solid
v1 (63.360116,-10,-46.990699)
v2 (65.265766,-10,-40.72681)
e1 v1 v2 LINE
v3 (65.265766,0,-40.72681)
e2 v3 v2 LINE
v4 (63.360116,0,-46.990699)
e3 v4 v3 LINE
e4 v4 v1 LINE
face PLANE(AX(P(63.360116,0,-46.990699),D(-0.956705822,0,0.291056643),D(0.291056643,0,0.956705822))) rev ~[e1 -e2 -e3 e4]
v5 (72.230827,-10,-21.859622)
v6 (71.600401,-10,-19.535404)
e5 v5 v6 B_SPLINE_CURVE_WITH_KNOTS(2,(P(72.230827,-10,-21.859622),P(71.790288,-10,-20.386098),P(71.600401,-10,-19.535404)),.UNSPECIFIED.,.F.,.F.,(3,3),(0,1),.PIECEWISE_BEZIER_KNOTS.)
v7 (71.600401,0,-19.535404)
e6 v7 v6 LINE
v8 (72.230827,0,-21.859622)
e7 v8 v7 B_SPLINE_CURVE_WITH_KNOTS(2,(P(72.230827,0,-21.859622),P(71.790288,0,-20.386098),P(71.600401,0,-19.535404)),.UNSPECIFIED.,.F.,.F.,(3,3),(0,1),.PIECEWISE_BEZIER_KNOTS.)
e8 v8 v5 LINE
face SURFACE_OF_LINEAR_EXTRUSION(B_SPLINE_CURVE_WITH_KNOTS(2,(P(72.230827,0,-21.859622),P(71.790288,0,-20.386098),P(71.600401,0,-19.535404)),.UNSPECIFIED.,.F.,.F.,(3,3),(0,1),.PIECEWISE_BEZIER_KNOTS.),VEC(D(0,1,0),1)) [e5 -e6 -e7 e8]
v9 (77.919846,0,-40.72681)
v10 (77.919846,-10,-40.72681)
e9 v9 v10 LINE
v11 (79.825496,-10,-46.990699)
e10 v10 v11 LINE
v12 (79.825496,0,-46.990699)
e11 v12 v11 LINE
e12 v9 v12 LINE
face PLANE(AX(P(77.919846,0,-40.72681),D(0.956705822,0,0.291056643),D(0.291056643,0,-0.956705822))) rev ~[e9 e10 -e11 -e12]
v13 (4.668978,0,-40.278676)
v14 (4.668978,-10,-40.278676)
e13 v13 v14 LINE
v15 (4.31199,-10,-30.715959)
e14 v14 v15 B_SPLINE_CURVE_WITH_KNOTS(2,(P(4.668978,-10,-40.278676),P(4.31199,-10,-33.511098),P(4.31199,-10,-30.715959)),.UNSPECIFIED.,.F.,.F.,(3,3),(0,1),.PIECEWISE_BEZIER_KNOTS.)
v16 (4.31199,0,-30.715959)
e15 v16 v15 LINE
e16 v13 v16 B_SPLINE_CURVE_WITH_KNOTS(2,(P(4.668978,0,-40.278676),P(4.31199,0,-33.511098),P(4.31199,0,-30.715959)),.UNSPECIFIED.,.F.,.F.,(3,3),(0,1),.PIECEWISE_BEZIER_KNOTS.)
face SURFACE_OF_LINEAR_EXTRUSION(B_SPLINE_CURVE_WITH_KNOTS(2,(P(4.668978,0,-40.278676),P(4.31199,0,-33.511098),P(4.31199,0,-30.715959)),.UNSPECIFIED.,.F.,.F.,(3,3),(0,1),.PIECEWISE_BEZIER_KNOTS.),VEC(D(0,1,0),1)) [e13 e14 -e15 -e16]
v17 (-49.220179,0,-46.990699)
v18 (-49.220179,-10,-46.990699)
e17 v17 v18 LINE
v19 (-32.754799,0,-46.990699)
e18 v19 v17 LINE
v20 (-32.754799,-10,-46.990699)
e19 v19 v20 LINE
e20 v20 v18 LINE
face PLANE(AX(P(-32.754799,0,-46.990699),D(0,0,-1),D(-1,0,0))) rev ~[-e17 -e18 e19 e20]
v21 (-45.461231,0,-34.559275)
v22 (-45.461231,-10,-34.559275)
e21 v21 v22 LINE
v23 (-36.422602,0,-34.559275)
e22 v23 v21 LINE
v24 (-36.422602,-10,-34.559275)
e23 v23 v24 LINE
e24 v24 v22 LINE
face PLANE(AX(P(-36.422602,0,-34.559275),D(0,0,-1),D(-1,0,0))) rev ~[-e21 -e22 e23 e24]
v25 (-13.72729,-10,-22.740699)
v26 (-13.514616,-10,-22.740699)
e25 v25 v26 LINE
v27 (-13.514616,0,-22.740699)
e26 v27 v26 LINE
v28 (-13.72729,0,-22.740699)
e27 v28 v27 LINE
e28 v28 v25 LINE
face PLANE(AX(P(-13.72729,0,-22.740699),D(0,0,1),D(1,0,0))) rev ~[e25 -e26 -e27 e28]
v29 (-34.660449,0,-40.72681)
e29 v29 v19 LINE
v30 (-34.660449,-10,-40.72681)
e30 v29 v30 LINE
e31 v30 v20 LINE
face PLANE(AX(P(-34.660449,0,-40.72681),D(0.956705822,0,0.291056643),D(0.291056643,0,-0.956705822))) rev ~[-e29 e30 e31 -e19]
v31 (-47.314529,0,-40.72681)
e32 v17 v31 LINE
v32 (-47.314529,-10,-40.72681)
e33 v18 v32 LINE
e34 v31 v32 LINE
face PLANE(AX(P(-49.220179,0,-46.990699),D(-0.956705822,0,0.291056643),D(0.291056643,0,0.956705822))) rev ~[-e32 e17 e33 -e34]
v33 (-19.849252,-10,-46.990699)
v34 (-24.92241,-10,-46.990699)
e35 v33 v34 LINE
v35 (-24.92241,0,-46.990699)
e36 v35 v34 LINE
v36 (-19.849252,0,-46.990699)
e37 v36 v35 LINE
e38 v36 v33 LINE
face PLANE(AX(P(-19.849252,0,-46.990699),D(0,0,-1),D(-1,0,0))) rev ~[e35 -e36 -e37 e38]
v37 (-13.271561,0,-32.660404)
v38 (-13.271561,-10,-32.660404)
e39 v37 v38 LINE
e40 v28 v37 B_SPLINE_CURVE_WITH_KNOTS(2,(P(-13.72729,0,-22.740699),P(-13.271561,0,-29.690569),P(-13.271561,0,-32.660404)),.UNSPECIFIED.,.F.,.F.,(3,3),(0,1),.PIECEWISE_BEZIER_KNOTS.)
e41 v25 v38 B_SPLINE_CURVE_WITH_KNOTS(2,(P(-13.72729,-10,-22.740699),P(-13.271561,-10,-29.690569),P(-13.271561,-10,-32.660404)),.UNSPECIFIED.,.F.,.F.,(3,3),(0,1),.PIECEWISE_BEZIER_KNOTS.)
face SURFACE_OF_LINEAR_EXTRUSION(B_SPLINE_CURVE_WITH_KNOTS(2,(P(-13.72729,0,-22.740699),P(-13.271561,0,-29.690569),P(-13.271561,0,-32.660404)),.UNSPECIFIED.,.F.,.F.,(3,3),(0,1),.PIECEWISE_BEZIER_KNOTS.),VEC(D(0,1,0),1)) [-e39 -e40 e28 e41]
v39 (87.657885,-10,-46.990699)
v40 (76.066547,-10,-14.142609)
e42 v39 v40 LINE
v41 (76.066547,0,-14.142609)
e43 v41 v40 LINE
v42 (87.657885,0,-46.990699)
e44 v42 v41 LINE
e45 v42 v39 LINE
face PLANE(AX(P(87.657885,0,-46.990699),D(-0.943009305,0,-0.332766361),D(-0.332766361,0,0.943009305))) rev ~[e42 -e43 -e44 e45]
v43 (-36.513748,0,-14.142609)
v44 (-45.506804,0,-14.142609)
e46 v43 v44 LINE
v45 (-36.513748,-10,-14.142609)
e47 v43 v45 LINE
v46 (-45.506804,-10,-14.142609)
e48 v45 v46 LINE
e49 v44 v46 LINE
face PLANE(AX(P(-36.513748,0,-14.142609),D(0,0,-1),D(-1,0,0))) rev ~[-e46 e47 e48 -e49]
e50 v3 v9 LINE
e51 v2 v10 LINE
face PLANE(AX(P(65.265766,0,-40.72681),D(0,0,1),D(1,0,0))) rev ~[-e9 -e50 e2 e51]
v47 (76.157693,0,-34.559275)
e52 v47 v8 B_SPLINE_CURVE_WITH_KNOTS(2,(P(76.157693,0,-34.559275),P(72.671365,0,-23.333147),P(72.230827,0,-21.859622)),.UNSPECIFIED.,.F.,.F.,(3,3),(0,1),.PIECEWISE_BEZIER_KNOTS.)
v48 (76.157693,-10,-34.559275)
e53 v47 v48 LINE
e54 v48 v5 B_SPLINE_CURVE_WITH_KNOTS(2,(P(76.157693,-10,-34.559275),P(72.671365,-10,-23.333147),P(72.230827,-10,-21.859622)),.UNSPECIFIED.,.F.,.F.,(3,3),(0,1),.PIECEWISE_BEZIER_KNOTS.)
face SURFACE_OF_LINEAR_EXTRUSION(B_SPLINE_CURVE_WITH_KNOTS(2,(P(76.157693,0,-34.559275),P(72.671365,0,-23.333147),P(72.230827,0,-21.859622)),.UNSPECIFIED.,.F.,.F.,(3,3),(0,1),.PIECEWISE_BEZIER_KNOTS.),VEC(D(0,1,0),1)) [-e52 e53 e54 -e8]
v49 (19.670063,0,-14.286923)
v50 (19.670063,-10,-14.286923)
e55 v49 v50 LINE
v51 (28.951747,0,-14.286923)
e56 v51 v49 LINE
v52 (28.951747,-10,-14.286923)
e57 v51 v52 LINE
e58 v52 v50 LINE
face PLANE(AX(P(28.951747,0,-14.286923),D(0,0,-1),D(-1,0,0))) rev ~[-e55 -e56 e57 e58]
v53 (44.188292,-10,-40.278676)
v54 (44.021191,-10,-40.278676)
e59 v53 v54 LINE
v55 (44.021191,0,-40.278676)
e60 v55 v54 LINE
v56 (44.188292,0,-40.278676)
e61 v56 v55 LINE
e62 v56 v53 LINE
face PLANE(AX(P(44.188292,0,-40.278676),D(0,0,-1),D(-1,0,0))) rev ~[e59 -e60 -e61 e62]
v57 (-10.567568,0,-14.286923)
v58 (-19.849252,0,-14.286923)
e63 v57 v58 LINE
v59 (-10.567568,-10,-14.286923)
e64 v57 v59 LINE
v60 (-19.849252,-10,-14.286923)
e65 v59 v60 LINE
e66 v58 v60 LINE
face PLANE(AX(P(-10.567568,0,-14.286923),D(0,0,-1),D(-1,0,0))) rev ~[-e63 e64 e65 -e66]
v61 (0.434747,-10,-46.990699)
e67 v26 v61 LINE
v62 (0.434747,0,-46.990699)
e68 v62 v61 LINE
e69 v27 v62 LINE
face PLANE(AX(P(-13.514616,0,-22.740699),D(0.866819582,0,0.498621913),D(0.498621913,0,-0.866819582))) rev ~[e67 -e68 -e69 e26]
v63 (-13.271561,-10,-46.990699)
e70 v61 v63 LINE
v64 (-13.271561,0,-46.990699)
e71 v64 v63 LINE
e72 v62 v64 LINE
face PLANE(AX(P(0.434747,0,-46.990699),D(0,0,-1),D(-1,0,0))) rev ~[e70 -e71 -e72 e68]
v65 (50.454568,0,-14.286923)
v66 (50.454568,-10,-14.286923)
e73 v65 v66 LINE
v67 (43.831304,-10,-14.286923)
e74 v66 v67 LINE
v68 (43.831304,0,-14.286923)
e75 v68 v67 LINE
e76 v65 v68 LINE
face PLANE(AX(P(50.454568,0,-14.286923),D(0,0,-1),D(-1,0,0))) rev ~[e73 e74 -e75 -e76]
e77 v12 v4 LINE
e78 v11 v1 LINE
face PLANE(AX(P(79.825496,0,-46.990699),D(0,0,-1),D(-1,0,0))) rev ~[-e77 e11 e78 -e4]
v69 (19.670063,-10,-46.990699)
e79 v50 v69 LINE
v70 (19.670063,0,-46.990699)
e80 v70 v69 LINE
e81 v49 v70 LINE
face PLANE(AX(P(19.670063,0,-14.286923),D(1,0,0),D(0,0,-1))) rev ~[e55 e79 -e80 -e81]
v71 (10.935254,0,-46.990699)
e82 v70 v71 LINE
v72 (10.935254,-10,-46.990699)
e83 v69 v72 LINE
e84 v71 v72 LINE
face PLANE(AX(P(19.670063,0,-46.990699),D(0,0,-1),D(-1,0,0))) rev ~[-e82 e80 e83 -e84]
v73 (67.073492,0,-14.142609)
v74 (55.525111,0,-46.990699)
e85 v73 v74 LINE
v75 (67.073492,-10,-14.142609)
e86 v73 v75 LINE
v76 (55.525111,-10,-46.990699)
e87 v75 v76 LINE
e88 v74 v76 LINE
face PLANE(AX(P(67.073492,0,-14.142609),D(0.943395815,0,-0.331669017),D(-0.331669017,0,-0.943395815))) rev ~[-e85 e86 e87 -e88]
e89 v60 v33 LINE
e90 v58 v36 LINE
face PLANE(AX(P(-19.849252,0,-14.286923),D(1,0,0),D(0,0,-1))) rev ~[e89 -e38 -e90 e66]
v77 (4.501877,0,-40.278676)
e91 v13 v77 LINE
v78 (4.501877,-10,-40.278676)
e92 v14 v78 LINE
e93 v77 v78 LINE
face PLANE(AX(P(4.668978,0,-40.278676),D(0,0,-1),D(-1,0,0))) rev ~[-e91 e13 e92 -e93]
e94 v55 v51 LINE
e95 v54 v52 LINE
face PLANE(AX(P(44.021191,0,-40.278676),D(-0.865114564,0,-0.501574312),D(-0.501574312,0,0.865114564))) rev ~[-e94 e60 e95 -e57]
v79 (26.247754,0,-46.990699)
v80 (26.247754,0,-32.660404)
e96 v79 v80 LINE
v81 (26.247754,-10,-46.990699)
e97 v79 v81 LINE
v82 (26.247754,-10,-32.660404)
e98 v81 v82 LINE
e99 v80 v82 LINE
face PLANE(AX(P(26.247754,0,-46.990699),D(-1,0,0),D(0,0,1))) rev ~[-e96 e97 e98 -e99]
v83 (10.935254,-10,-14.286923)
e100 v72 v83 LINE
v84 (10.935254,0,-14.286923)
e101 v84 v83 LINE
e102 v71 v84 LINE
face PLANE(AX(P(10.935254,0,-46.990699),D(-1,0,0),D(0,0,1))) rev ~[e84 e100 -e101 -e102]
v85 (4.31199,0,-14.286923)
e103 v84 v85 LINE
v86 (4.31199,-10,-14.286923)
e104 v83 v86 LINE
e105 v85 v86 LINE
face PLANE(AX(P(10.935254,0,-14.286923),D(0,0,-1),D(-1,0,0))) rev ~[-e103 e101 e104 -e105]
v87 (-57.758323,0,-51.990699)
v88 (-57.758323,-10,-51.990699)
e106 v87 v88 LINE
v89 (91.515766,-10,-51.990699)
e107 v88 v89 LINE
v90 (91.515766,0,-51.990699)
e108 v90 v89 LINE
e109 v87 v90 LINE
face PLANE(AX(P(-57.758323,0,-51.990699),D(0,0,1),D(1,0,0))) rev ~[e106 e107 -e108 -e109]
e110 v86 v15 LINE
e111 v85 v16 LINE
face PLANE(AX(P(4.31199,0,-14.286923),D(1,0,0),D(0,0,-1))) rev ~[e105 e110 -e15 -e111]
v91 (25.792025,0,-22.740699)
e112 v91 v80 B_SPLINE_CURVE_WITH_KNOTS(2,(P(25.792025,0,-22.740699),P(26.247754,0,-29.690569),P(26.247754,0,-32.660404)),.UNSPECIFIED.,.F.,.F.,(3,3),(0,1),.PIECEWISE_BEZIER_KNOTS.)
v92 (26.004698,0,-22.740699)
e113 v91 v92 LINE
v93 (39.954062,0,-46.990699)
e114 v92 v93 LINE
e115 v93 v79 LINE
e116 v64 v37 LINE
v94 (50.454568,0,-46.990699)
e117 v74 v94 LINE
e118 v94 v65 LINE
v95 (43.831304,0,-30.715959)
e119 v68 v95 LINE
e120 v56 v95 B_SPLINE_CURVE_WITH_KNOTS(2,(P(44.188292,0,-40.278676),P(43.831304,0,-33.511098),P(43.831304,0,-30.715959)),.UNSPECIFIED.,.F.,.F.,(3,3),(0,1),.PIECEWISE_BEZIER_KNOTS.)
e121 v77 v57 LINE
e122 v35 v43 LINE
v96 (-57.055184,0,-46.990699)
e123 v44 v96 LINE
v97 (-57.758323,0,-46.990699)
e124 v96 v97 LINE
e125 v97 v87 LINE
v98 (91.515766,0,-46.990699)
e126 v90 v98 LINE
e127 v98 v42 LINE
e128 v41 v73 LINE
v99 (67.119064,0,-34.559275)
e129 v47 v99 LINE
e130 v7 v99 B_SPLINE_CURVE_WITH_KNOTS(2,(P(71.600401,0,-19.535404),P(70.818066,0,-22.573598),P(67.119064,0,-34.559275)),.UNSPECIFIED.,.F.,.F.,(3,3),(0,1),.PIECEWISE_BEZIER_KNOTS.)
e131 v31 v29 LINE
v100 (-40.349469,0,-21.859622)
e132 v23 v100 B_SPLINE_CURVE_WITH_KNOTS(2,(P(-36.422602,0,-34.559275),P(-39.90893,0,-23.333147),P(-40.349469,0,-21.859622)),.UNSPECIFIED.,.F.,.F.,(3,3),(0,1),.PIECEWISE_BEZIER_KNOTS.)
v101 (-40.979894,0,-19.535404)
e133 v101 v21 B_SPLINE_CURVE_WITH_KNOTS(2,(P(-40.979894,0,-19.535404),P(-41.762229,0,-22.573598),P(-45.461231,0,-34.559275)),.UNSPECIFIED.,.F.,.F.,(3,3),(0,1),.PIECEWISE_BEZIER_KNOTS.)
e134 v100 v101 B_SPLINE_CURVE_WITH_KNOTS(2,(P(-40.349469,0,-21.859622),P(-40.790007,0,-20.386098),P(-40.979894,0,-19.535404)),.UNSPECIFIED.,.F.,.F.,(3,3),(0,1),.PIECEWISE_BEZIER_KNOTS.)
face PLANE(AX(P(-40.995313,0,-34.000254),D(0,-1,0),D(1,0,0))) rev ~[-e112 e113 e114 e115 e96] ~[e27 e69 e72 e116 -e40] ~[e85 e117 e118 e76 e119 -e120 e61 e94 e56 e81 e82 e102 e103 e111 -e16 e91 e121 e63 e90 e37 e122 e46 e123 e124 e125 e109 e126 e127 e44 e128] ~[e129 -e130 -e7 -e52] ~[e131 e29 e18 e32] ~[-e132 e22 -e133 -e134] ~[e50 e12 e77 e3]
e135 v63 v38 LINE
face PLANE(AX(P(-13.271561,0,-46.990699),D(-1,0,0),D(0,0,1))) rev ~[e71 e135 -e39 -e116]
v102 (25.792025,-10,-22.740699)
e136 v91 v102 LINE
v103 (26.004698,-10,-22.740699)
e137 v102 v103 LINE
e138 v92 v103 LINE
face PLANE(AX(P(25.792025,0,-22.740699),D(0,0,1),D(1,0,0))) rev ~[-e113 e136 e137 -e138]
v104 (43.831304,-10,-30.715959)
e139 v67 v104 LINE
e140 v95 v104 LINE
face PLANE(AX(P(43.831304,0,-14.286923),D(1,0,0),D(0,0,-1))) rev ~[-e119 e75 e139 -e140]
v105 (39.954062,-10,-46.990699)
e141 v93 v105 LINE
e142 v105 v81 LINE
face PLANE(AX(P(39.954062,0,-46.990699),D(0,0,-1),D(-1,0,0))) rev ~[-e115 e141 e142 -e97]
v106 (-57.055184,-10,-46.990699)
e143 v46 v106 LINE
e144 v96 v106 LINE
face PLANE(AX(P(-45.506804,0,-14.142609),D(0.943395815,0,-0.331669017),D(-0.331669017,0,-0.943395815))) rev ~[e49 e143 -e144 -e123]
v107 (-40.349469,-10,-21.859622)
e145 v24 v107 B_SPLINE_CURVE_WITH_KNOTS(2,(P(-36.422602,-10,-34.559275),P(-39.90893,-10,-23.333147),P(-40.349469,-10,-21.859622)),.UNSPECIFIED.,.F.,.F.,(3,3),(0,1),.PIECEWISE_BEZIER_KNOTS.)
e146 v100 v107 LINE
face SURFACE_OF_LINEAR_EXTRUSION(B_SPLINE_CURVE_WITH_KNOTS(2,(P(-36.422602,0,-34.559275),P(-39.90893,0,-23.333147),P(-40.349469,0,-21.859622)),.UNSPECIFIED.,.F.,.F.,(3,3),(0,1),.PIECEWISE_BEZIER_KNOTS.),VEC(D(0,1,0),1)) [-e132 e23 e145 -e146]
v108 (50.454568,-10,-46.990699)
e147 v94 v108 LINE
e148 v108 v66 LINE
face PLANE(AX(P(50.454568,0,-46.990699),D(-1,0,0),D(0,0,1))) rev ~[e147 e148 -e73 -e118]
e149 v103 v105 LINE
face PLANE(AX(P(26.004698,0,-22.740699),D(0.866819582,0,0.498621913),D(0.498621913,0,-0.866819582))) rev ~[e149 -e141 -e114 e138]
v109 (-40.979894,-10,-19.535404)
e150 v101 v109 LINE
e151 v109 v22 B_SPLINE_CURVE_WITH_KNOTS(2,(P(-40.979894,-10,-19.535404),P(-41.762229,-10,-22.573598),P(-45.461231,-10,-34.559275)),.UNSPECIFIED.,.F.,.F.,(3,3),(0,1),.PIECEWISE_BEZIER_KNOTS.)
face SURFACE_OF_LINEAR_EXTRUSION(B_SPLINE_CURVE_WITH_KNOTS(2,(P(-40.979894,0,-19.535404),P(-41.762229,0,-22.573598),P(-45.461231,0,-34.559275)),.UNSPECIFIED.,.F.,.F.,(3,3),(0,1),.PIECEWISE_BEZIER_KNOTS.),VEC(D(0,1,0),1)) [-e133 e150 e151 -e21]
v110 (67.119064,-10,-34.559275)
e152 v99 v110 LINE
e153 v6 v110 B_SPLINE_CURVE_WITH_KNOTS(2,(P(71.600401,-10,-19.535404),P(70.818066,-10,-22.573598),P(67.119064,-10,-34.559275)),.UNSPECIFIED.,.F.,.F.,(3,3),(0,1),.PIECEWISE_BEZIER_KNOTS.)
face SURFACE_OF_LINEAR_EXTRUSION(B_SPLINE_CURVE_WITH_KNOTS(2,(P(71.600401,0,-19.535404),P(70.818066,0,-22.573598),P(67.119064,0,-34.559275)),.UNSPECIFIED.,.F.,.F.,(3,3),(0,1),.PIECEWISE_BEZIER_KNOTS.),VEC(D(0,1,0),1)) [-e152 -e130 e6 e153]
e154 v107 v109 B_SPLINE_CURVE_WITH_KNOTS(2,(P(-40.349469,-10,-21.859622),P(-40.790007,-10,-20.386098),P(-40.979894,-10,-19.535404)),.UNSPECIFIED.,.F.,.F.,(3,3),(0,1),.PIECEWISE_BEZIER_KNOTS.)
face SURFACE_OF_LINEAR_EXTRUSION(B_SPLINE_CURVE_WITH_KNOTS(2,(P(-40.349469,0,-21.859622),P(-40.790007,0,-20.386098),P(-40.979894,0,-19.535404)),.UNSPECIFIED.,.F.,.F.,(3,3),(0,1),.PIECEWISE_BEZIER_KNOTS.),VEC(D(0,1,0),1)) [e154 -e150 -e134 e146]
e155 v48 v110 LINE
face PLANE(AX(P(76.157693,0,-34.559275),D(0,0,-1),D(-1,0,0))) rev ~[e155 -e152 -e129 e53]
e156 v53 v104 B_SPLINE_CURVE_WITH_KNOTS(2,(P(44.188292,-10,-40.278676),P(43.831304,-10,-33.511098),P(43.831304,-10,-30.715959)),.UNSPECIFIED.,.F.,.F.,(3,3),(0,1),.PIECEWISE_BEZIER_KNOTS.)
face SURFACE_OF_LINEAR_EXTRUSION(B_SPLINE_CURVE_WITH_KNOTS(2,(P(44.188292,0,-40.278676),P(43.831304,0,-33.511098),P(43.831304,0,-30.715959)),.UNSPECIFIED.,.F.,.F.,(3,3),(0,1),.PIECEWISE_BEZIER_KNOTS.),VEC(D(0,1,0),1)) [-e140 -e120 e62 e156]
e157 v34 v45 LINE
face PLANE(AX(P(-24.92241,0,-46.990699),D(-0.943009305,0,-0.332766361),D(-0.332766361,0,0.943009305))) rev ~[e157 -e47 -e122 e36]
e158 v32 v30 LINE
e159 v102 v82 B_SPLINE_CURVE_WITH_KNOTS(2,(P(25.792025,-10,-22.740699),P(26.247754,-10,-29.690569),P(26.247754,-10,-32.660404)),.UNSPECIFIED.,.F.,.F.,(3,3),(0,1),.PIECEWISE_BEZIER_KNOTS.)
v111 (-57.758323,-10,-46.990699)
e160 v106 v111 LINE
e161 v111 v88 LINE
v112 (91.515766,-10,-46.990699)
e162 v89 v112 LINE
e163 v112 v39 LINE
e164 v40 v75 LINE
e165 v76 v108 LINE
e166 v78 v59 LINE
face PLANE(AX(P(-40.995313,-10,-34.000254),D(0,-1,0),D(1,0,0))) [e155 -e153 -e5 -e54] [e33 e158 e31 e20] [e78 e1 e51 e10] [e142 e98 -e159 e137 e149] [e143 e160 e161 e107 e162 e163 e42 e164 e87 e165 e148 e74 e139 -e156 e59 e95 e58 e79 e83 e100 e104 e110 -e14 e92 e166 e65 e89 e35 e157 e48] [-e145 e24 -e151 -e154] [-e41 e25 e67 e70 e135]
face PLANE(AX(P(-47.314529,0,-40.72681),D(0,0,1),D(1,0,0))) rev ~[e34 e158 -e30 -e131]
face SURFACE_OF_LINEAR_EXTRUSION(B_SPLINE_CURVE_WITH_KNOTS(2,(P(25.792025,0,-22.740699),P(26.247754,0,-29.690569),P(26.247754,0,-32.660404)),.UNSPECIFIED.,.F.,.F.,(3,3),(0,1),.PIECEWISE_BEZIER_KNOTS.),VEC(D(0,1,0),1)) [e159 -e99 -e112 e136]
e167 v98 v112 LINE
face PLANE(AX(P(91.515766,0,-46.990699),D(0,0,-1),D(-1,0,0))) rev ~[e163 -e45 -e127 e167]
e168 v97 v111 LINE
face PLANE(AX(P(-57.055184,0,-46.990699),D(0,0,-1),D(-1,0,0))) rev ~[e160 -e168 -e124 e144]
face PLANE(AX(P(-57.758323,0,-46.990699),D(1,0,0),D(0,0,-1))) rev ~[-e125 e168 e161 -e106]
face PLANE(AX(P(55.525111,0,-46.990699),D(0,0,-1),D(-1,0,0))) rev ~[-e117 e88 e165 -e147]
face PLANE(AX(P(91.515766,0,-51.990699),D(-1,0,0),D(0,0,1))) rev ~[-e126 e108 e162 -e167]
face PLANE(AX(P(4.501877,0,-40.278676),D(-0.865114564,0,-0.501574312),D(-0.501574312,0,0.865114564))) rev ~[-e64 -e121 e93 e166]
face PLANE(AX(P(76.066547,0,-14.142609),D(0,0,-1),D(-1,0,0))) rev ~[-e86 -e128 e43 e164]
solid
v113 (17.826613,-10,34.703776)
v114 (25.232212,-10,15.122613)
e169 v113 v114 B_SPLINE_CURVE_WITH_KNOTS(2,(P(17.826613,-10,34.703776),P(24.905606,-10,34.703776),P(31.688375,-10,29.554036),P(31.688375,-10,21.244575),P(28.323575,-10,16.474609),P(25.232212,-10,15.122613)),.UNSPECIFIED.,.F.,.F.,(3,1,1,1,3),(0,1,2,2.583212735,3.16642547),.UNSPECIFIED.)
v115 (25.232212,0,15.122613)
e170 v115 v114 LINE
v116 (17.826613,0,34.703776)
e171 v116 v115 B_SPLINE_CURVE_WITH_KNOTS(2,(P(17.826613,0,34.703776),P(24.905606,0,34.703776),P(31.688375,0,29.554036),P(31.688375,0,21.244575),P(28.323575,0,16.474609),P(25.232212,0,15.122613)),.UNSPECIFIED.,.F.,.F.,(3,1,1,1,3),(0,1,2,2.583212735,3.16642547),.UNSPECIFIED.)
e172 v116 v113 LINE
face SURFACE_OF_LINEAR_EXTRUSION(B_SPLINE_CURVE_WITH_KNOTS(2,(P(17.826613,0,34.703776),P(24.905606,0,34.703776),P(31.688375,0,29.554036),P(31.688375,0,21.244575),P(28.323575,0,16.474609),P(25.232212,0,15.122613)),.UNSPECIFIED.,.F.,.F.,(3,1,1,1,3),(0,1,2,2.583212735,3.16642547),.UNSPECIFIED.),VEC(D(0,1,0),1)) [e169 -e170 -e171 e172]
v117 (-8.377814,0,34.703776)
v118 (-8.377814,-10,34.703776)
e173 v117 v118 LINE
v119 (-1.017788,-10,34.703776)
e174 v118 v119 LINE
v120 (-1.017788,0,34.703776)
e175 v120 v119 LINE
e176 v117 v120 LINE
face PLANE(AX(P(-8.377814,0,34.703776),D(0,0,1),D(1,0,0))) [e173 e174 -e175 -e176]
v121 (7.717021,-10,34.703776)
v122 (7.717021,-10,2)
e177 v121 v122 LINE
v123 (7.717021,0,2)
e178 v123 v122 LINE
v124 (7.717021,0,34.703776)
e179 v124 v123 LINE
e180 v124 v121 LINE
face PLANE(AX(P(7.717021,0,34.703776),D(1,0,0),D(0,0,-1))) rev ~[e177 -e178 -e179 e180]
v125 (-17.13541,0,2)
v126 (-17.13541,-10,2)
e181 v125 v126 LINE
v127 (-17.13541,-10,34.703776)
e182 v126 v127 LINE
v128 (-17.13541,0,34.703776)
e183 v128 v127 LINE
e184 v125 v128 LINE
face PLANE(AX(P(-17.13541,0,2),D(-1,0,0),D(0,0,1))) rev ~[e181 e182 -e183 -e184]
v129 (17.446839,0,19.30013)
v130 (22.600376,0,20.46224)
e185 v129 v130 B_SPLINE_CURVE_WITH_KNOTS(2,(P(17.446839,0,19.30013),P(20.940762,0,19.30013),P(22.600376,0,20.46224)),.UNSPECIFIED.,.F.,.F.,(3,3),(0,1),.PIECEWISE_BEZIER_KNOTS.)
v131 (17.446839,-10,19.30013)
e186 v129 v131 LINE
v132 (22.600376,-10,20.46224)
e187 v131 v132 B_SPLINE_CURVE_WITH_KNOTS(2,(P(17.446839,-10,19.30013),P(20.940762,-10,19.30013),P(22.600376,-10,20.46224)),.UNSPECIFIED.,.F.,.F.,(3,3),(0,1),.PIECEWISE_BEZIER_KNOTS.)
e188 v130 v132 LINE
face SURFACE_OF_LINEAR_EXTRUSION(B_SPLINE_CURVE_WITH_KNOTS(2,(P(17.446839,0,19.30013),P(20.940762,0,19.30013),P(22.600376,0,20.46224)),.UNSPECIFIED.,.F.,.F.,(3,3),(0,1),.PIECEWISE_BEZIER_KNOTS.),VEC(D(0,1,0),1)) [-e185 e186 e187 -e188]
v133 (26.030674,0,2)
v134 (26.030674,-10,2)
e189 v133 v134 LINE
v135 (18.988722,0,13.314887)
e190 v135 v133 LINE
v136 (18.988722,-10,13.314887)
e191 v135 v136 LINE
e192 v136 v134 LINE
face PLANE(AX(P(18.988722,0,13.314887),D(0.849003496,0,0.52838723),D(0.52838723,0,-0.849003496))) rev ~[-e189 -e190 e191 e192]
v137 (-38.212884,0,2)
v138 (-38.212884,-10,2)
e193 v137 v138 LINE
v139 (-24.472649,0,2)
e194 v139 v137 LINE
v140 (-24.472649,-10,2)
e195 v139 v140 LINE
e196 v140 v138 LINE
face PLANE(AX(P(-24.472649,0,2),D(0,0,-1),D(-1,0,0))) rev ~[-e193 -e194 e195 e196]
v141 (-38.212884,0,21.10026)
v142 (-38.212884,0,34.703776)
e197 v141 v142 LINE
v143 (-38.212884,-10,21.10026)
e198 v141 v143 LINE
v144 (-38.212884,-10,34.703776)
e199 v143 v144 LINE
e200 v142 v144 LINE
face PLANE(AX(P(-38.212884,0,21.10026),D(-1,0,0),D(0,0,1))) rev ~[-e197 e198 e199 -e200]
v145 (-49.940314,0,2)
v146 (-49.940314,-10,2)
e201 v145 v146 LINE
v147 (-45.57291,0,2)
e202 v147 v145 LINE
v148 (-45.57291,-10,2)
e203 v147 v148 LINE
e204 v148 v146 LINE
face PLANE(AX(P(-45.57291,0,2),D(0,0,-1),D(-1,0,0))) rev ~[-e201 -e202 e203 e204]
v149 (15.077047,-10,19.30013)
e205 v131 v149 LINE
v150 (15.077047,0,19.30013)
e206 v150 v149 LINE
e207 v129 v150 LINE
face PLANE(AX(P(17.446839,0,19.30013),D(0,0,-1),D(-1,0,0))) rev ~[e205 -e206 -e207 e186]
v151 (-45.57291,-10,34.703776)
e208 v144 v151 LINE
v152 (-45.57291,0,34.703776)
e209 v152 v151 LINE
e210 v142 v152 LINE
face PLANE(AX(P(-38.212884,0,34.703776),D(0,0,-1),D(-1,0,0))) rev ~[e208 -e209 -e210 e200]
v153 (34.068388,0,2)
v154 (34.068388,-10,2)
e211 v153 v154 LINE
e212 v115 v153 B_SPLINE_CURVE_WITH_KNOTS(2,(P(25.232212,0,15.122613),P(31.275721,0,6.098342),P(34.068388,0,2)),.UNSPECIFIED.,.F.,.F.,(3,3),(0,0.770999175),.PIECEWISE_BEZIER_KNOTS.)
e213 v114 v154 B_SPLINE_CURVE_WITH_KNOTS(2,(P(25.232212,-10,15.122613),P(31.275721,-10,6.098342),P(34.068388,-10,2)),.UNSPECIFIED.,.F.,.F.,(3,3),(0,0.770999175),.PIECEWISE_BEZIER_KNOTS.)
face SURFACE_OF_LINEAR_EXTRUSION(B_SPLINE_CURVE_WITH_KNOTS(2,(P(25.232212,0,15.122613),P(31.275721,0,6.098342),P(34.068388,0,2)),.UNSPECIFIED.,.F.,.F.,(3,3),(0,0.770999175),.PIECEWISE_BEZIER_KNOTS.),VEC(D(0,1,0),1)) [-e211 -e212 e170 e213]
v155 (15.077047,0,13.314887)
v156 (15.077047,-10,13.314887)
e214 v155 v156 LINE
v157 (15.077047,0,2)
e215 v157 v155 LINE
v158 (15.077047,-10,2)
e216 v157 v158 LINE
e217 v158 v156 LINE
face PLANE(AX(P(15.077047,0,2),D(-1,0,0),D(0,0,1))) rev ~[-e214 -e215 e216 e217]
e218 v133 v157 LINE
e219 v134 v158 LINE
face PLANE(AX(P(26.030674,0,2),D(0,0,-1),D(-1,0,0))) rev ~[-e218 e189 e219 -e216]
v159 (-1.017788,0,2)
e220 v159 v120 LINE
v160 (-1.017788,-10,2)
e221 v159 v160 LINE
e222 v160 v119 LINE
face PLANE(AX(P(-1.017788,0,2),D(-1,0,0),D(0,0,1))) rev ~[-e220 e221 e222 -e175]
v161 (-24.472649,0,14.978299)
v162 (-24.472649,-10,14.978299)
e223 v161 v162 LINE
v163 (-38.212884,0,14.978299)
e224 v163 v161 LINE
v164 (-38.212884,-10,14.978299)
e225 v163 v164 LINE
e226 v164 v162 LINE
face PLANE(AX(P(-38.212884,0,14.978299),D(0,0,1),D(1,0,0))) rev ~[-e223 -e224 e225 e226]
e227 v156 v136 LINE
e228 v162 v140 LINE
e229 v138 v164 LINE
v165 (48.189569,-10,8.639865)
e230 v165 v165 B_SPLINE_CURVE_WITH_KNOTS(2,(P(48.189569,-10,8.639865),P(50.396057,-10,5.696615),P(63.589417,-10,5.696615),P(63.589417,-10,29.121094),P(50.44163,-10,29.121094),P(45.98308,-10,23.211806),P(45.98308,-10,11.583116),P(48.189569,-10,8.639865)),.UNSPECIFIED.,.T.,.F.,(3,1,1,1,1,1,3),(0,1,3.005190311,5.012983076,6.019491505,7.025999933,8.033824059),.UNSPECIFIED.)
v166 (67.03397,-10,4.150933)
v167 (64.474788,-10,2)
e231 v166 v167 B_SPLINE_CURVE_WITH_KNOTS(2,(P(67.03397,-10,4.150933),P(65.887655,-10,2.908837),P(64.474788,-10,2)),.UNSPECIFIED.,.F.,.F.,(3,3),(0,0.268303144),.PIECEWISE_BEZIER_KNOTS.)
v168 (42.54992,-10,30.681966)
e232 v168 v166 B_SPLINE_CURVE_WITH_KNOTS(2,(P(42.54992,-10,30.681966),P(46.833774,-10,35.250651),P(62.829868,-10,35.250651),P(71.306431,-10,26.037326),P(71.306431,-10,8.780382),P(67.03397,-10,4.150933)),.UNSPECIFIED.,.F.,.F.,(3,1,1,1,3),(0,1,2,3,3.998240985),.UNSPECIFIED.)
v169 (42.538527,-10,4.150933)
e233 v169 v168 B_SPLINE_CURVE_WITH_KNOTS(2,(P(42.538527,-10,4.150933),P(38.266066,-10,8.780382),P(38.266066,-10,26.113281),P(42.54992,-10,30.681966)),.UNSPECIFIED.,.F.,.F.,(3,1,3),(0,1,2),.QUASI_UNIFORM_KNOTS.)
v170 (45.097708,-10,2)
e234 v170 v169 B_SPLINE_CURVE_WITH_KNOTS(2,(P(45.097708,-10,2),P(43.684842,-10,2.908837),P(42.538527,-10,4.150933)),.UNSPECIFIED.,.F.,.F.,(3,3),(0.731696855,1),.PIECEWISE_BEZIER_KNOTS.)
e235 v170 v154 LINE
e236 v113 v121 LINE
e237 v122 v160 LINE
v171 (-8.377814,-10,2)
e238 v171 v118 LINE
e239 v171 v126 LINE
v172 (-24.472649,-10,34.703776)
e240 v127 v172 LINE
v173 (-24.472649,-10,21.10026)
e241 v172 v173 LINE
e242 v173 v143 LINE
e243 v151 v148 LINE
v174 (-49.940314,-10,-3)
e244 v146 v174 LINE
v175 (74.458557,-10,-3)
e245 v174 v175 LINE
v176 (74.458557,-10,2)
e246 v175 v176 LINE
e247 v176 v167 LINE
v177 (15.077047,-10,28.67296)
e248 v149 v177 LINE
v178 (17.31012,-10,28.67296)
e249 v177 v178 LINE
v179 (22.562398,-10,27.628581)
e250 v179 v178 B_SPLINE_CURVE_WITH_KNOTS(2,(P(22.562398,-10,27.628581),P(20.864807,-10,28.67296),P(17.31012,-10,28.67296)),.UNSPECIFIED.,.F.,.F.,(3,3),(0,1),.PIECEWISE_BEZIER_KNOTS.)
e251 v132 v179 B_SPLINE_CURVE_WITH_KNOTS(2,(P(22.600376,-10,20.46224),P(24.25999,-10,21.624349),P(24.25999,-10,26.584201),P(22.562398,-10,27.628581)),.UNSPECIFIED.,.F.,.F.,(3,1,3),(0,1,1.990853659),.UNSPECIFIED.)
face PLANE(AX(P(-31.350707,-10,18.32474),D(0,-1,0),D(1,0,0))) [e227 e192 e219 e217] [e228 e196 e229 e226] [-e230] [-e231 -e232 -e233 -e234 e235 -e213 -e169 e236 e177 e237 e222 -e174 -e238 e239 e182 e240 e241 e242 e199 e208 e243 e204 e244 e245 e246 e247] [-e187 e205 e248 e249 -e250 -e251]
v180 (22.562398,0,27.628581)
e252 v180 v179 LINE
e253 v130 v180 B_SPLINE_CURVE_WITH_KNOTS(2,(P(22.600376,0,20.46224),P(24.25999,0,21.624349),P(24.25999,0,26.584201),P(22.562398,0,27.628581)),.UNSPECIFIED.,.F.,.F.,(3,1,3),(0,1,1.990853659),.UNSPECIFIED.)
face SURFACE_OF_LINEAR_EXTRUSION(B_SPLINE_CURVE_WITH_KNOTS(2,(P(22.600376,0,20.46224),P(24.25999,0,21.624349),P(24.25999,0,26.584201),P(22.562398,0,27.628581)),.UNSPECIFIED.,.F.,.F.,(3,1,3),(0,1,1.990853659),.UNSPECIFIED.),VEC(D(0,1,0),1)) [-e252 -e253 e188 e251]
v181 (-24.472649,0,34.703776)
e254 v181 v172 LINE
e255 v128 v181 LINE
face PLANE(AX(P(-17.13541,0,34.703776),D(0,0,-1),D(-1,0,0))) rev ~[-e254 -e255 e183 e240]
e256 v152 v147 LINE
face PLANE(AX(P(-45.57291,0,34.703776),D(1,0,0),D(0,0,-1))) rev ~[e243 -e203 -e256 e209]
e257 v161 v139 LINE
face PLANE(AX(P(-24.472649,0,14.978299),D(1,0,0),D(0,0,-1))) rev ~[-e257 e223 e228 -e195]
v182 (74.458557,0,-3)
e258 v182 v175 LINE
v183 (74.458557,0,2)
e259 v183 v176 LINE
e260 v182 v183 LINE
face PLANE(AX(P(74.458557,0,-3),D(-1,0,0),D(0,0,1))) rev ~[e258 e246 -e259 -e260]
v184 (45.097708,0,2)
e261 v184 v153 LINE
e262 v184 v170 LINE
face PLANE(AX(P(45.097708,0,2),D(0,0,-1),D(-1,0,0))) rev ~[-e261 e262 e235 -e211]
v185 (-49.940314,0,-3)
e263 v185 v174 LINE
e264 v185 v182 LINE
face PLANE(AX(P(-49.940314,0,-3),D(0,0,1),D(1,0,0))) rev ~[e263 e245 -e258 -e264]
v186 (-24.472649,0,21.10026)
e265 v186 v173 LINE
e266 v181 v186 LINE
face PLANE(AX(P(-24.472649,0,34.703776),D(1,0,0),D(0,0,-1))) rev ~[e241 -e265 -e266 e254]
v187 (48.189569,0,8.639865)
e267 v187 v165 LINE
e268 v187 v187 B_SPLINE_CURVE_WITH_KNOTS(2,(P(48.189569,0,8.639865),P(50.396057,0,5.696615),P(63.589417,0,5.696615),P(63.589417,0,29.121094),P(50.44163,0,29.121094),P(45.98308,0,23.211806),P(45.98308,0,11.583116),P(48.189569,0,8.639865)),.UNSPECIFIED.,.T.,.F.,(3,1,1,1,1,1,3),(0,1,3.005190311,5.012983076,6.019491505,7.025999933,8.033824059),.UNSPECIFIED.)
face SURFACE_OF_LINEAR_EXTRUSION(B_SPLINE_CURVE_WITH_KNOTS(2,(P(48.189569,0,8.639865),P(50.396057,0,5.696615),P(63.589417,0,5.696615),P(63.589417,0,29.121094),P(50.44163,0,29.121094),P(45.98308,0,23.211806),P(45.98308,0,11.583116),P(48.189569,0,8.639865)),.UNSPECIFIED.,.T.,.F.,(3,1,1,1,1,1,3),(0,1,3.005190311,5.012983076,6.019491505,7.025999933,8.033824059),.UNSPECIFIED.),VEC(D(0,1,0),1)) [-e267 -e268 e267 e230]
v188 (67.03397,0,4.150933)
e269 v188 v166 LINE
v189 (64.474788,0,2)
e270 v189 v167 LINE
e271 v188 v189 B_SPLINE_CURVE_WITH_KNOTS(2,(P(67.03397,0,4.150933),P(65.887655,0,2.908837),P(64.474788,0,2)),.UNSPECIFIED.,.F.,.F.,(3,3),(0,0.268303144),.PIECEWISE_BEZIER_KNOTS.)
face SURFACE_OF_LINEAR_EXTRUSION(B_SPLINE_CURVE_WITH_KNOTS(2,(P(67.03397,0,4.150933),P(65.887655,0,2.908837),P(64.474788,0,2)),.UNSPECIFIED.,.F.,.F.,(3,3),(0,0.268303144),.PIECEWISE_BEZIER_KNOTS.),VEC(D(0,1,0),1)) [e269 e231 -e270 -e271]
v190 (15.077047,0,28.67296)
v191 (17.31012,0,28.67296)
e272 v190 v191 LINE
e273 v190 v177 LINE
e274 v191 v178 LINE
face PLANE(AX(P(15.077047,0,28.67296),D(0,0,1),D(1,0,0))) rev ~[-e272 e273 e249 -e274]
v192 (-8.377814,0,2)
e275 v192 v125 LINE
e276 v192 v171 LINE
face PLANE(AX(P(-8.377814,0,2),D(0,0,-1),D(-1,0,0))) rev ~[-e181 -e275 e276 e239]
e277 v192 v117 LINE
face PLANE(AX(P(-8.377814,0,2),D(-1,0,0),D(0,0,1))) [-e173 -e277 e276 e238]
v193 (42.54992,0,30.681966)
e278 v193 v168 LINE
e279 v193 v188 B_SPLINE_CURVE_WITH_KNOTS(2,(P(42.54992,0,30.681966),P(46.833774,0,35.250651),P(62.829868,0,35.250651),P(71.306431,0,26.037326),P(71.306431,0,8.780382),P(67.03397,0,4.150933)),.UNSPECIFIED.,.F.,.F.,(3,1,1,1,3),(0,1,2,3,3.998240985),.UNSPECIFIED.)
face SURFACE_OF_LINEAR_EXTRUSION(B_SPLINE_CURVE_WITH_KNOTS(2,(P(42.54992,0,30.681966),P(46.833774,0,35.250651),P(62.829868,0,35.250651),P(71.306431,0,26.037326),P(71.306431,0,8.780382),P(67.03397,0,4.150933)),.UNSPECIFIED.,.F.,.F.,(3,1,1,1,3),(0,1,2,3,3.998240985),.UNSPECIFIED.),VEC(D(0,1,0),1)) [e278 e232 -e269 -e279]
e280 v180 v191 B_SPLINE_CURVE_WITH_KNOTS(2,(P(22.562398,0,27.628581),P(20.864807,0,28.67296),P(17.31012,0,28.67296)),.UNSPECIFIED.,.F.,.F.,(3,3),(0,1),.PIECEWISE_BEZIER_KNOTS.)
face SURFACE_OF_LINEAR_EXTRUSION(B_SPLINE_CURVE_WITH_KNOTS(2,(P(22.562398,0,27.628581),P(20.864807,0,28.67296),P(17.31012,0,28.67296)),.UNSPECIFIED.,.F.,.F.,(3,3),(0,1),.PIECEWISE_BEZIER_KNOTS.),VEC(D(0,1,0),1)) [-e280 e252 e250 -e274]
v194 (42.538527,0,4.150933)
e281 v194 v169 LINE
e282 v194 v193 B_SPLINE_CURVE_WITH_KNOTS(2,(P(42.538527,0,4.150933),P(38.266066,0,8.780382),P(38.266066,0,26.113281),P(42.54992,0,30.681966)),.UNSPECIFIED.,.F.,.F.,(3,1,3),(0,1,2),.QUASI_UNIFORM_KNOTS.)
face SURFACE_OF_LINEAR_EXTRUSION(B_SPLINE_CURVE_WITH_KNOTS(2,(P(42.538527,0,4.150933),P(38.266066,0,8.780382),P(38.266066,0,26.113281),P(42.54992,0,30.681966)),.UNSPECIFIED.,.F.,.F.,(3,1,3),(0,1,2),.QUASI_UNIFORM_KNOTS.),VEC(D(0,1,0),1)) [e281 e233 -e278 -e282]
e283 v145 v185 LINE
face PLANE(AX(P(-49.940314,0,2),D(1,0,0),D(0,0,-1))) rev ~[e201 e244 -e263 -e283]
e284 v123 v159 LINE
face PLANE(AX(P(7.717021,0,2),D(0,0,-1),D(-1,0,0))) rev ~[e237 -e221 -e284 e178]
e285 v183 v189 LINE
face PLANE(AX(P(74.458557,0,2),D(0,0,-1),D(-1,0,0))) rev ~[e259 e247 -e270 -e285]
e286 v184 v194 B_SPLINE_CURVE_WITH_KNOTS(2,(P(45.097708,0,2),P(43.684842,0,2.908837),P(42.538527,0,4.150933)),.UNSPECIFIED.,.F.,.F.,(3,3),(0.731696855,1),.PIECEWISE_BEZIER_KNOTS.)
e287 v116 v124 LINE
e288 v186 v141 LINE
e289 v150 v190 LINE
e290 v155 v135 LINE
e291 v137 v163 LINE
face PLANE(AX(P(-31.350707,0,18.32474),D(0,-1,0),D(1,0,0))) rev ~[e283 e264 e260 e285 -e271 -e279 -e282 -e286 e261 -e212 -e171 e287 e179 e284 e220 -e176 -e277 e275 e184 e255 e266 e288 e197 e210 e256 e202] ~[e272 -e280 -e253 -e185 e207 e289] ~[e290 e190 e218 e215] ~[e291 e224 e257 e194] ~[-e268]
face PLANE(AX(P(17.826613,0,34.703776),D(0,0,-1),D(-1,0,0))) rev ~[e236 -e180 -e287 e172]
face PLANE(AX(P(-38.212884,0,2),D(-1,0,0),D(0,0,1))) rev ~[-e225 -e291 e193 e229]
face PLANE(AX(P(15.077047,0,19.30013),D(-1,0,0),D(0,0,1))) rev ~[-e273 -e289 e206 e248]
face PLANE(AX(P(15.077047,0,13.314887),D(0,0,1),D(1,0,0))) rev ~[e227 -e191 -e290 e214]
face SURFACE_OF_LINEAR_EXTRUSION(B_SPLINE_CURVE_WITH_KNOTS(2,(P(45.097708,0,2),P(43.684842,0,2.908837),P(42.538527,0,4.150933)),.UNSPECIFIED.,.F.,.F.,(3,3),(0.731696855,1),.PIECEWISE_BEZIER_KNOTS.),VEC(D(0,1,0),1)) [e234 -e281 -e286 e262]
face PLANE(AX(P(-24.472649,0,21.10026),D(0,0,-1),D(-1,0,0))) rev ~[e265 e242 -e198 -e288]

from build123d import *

# Parameters (mm, degrees)
F0_W     = 7.3600260417
F0_H     = 2
F0_W_2   = 7.3372395833
F0_H_2   = 32.7037760417
F1_DEPTH = 10
F2_W     = 6.5776909722
F2_H     = 2
F3_DEPTH = 10


with BuildPart() as f1:
    # F0 (on Front) → F1 (new body)
    with BuildSketch(Plane.XZ):
        Polygon((-45.5729096715, 34.7037760417), (-45.5729096715, 2), (-38.2128836299, 2), (-38.2128836299, 14.9782986111), (-24.4726492549, 14.9782986111), (-24.4726492549, 2), (-17.1354096715, 2), (-17.1354096715, 34.7037760417), (-24.4726492549, 34.7037760417), (-24.4726492549, 21.1002604167), (-38.2128836299, 21.1002604167), (-38.2128836299, 34.7037760417), align=None)
        with Locations((-41.8928966507, 1)):
            Rectangle(F0_W, F0_H)
        with BuildLine():
            Line((-45.5729096715, 2), (-49.9403141854, 2))
            Line((-49.9403141854, 2), (-49.9403141854, -3))
            Line((-49.9403141854, -3), (74.4585573424, -3))
            Line((74.4585573424, -3), (74.4585573424, 2))
            Line((74.4585573424, 2), (64.4747883987, 2))
            add(Edge.make_bspline(
                [(64.4747883987, 2), (60.6217212829, -0.478515625), (54.7862483146, -0.478515625)],
                knots=[0.2683031445, 0.2683031445, 0.2683031445, 1, 1, 1], degree=2))
            add(Edge.make_bspline(
                [(54.7862483146, -0.478515625), (48.9507753462, -0.478515625), (45.0977082305, 2)],
                knots=[0, 0, 0, 0.7316968555, 0.7316968555, 0.7316968555], degree=2))
            Line((45.0977082305, 2), (34.0683879111, 2))
            add(Edge.make_bspline(
                [(34.0683879111, 2), (34.8978609429, 0.7827176635), (35.4405451896, 0)],
                knots=[0.770999175, 0.770999175, 0.770999175, 1, 1, 1], degree=2))
            Line((35.4405451896, 0), (27.2753976201, 0))
            Line((27.2753976201, 0), (26.0306742887, 2))
            Line((26.0306742887, 2), (15.0770469257, 2))
            Line((15.0770469257, 2), (15.0770469257, 0))
            Line((15.0770469257, 0), (7.717020884, 0))
            Line((7.717020884, 0), (7.717020884, 2))
            Line((7.717020884, 2), (-1.0177881438, 2))
            Line((-1.0177881438, 2), (-1.0177881438, 0))
            Line((-1.0177881438, 0), (-8.3778141854, 0))
            Line((-8.3778141854, 0), (-8.3778141854, 2))
            Line((-8.3778141854, 2), (-17.1354096715, 2))
            Line((-17.1354096715, 2), (-17.1354096715, 0))
            Line((-17.1354096715, 0), (-24.4726492549, 0))
            Line((-24.4726492549, 0), (-24.4726492549, 2))
            Line((-24.4726492549, 2), (-38.2128836299, 2))
            Line((-38.2128836299, 2), (-38.2128836299, 0))
            Line((-38.2128836299, 0), (-45.5729096715, 0))
            Line((-45.5729096715, 0), (-45.5729096715, 2))
        make_face()
        with Locations((-20.8040294632, 1)):
            Rectangle(F0_W_2, F0_H)
        with Locations((-4.6978011646, 18.3518880208)):
            Rectangle(F0_W, F0_H_2)
        with Locations((-4.6978011646, 1)):
            Rectangle(F0_W, F0_H)
        with BuildLine():
            Line((26.0306742887, 2), (34.0683879111, 2))
            add(Edge.make_bspline(
                [(25.2322118562, 15.1226128472), (31.2757210146, 6.0983419044), (34.0683879111, 2)],
                knots=[0, 0, 0, 0.770999175, 0.770999175, 0.770999175], degree=2))
            add(Edge.make_bspline(
                [(30.0059748771, 18.8595920139), (28.3235747035, 16.474609375), (25.2322118562, 15.1226128472)],
                knots=[0, 0, 0, 1, 1, 1], degree=2))
            add(Edge.make_bspline(
                [(31.6883750507, 24.3055555556), (31.6883750507, 21.2445746528), (30.0059748771, 18.8595920139)],
                knots=[0, 0, 0, 1, 1, 1], degree=2))
            add(Edge.make_bspline(
                [(28.2969905021, 32.12890625), (31.6883750507, 29.5540364583), (31.6883750507, 24.3055555556)],
                knots=[0, 0, 0, 1, 1, 1], degree=2))
            add(Edge.make_bspline(
                [(17.8266128979, 34.7037760417), (24.9056059535, 34.7037760417), (28.2969905021, 32.12890625)],
                knots=[0, 0, 0, 1, 1, 1], degree=2))
            Line((17.8266128979, 34.7037760417), (7.717020884, 34.7037760417))
            Line((7.717020884, 34.7037760417), (7.717020884, 2))
            Line((7.717020884, 2), (15.0770469257, 2))
            Line((15.0770469257, 2), (15.0770469257, 13.3148871528))
            Line((15.0770469257, 13.3148871528), (18.9887222729, 13.3148871528))
            Line((18.9887222729, 13.3148871528), (26.0306742887, 2))
        make_face()
        with BuildLine():
            Line((17.4468385924, 19.3001302083), (15.0770469257, 19.3001302083))
            Line((15.0770469257, 19.3001302083), (15.0770469257, 28.6729600694))
            Line((15.0770469257, 28.6729600694), (17.3101198424, 28.6729600694))
            add(Edge.make_bspline(
                [(22.5623984882, 27.6285807292), (20.8648073424, 28.6729600694), (17.3101198424, 28.6729600694)],
                knots=[0, 0, 0, 1, 1, 1], degree=2))
            add(Edge.make_bspline(
                [(24.259989634, 24.1156684028), (24.259989634, 26.5842013889), (22.5623984882, 27.6285807292)],
                knots=[0, 0, 0, 1, 1, 1], degree=2))
            add(Edge.make_bspline(
                [(22.6003759187, 20.4622395833), (24.259989634, 21.6243489583), (24.259989634, 24.1156684028)],
                knots=[0, 0, 0, 1, 1, 1], degree=2))
            add(Edge.make_bspline(
                [(17.4468385924, 19.3001302083), (20.9407622035, 19.3001302083), (22.6003759187, 20.4622395833)],
                knots=[0, 0, 0, 1, 1, 1], degree=2))
        make_face(mode=Mode.SUBTRACT)
        with Locations((11.3970339049, 1)):
            Rectangle(F0_W, F0_H)
        with BuildLine():
            add(Edge.make_bspline(
                [(34.0683879111, 2), (34.8978609429, 0.7827176635), (35.4405451896, 0)],
                knots=[0.770999175, 0.770999175, 0.770999175, 1, 1, 1], degree=2))
            Line((34.0683879111, 2), (26.0306742887, 2))
            Line((26.0306742887, 2), (27.2753976201, 0))
            Line((27.2753976201, 0), (35.4405451896, 0))
        make_face()
        with BuildLine():
            Line((45.0977082305, 2), (64.4747883987, 2))
            add(Edge.make_bspline(
                [(67.0339696687, 4.1509331597), (65.8876549643, 2.9088374933), (64.4747883987, 2)],
                knots=[0, 0, 0, 0.2683031445, 0.2683031445, 0.2683031445], degree=2))
            add(Edge.make_bspline(
                [(71.3064306062, 17.4012586806), (71.3064306062, 8.7803819444), (67.0339696687, 4.1509331597)],
                knots=[0, 0, 0, 1, 1, 1], degree=2))
            add(Edge.make_bspline(
                [(67.0681493562, 30.6439887153), (71.3064306062, 26.0373263889), (71.3064306062, 17.4012586806)],
                knots=[0, 0, 0, 1, 1, 1], degree=2))
            add(Edge.make_bspline(
                [(54.8318212312, 35.2506510417), (62.8298681062, 35.2506510417), (67.0681493562, 30.6439887153)],
                knots=[0, 0, 0, 1, 1, 1], degree=2))
            add(Edge.make_bspline(
                [(42.5499201896, 30.6819661458), (46.8337743562, 35.2506510417), (54.8318212312, 35.2506510417)],
                knots=[0, 0, 0, 1, 1, 1], degree=2))
            add(Edge.make_bspline(
                [(38.2660660229, 17.4468315972), (38.2660660229, 26.11328125), (42.5499201896, 30.6819661458)],
                knots=[0, 0, 0, 1, 1, 1], degree=2))
            add(Edge.make_bspline(
                [(42.5385269604, 4.1509331597), (38.2660660229, 8.7803819444), (38.2660660229, 17.4468315972)],
                knots=[0, 0, 0, 1, 1, 1], degree=2))
            add(Edge.make_bspline(
                [(45.0977082305, 2), (43.6848416649, 2.9088374933), (42.5385269604, 4.1509331597)],
                knots=[0.7316968555, 0.7316968555, 0.7316968555, 1, 1, 1], degree=2))
        make_face()
        with BuildLine():
            add(Edge.make_bspline(
                [(45.9830799118, 17.4012586806), (45.9830799118, 11.5831163194), (48.1895686271, 8.6398654514)],
                knots=[0, 0, 0, 1, 1, 1], degree=2))
            add(Edge.make_bspline(
                [(48.2123550854, 26.1664496528), (45.9830799118, 23.2118055556), (45.9830799118, 17.4012586806)],
                knots=[0, 0, 0, 1, 1, 1], degree=2))
            add(Edge.make_bspline(
                [(54.8318212312, 29.12109375), (50.441630259, 29.12109375), (48.2123550854, 26.1664496528)],
                knots=[0, 0, 0, 1, 1, 1], degree=2))
            add(Edge.make_bspline(
                [(63.5894167174, 17.4012586806), (63.5894167174, 29.12109375), (54.8318212312, 29.12109375)],
                knots=[0, 0, 0, 1, 1, 1], degree=2))
            add(Edge.make_bspline(
                [(54.7862483146, 5.6966145833), (63.5894167174, 5.6966145833), (63.5894167174, 17.4012586806)],
                knots=[0, 0, 0, 1, 1, 1], degree=2))
            add(Edge.make_bspline(
                [(48.1895686271, 8.6398654514), (50.3960573424, 5.6966145833), (54.7862483146, 5.6966145833)],
                knots=[0, 0, 0, 1, 1, 1], degree=2))
        make_face(mode=Mode.SUBTRACT)
        with BuildLine():
            add(Edge.make_bspline(
                [(64.4747883987, 2), (60.6217212829, -0.478515625), (54.7862483146, -0.478515625)],
                knots=[0.2683031445, 0.2683031445, 0.2683031445, 1, 1, 1], degree=2))
            Line((64.4747883987, 2), (45.0977082305, 2))
            add(Edge.make_bspline(
                [(54.7862483146, -0.478515625), (48.9507753462, -0.478515625), (45.0977082305, 2)],
                knots=[0, 0, 0, 0.7316968555, 0.7316968555, 0.7316968555], degree=2))
        make_face()
    extrude(amount=F1_DEPTH)


with BuildPart() as f3:
    # F2 (on Front) → F3 (new body)
    with BuildSketch(Plane.XZ):
        Polygon((-45.5068036232, -14.1426085562), (-57.0551840979, -46.9906988339), (-49.2201793381, -46.9906988339), (-47.3145293176, -40.7268099451), (-34.6604494565, -40.7268099451), (-32.7547994361, -46.9906988339), (-24.922410195, -46.9906988339), (-36.5137480676, -14.1426085562), align=None)
        with BuildLine():
            add(Edge.make_bspline(
                [(-36.4226022343, -34.5592752228), (-39.9089303593, -23.3331467506), (-40.3494685538, -21.8596224451)],
                knots=[0, 0, 0, 1, 1, 1], degree=2))
            Line((-36.4226022343, -34.5592752228), (-45.4612307065, -34.5592752228))
            add(Edge.make_bspline(
                [(-40.979893901, -19.5354036951), (-41.7622289704, -22.5735981395), (-45.4612307065, -34.5592752228)],
                knots=[0, 0, 0, 1, 1, 1], degree=2))
            add(Edge.make_bspline(
                [(-40.3494685538, -21.8596224451), (-40.7900067482, -20.3860981395), (-40.979893901, -19.5354036951)],
                knots=[0, 0, 0, 1, 1, 1], degree=2))
        make_face(mode=Mode.SUBTRACT)
        with BuildLine():
            Line((-19.8492515399, -14.2869227923), (-19.8492515399, -46.9906988339))
            Line((-19.8492515399, -46.9906988339), (-13.2715605676, -46.9906988339))
            Line((-13.2715605676, -46.9906988339), (-13.2715605676, -32.6604036951))
            add(Edge.make_bspline(
                [(-13.7272897343, -22.7406988339), (-13.2715605676, -29.6905686256), (-13.2715605676, -32.6604036951)],
                knots=[0, 0, 0, 1, 1, 1], degree=2))
            Line((-13.7272897343, -22.7406988339), (-13.5146161232, -22.7406988339))
            Line((-13.5146161232, -22.7406988339), (0.4347473027, -46.9906988339))
            Line((0.4347473027, -46.9906988339), (10.9352536685, -46.9906988339))
            Line((10.9352536685, -46.9906988339), (10.9352536685, -14.2869227923))
            Line((10.9352536685, -14.2869227923), (4.3119897796, -14.2869227923))
            Line((4.3119897796, -14.2869227923), (4.3119897796, -30.7159592506))
            add(Edge.make_bspline(
                [(4.6689776268, -40.2786762645), (4.3119897796, -33.5110981395), (4.3119897796, -30.7159592506)],
                knots=[0, 0, 0, 1, 1, 1], degree=2))
            Line((4.6689776268, -40.2786762645), (4.5018769324, -40.2786762645))
            Line((4.5018769324, -40.2786762645), (-10.5675675121, -14.2869227923))
            Line((-10.5675675121, -14.2869227923), (-19.8492515399, -14.2869227923))
        make_face()
        with BuildLine():
            Line((19.6700626962, -14.2869227923), (19.6700626962, -46.9906988339))
            Line((19.6700626962, -46.9906988339), (26.2477536685, -46.9906988339))
            Line((26.2477536685, -46.9906988339), (26.2477536685, -32.6604036951))
            add(Edge.make_bspline(
                [(25.7920245018, -22.7406988339), (26.2477536685, -29.6905686256), (26.2477536685, -32.6604036951)],
                knots=[0, 0, 0, 1, 1, 1], degree=2))
            Line((25.7920245018, -22.7406988339), (26.0046981129, -22.7406988339))
            Line((26.0046981129, -22.7406988339), (39.9540615388, -46.9906988339))
            Line((39.9540615388, -46.9906988339), (50.4545679046, -46.9906988339))
            Line((50.4545679046, -46.9906988339), (50.4545679046, -14.2869227923))
            Line((50.4545679046, -14.2869227923), (43.8313040157, -14.2869227923))
            Line((43.8313040157, -14.2869227923), (43.8313040157, -30.7159592506))
            add(Edge.make_bspline(
                [(44.1882918629, -40.2786762645), (43.8313040157, -33.5110981395), (43.8313040157, -30.7159592506)],
                knots=[0, 0, 0, 1, 1, 1], degree=2))
            Line((44.1882918629, -40.2786762645), (44.0211911685, -40.2786762645))
            Line((44.0211911685, -40.2786762645), (28.951746724, -14.2869227923))
            Line((28.951746724, -14.2869227923), (19.6700626962, -14.2869227923))
        make_face()
        Polygon((79.8254957028, -46.9906988339), (87.6578849439, -46.9906988339), (76.0665470712, -14.1426085562), (67.0734915157, -14.1426085562), (55.525111041, -46.9906988339), (63.3601158008, -46.9906988339), (65.2657658212, -40.7268099451), (77.9198456824, -40.7268099451), align=None)
        with BuildLine():
            add(Edge.make_bspline(
                [(76.1576929046, -34.5592752228), (72.6713647796, -23.3331467506), (72.2308265851, -21.8596224451)],
                knots=[0, 0, 0, 1, 1, 1], degree=2))
            Line((76.1576929046, -34.5592752228), (67.1190644324, -34.5592752228))
            add(Edge.make_bspline(
                [(71.6004012379, -19.5354036951), (70.8180661685, -22.5735981395), (67.1190644324, -34.5592752228)],
                knots=[0, 0, 0, 1, 1, 1], degree=2))
            add(Edge.make_bspline(
                [(72.2308265851, -21.8596224451), (71.7902883907, -20.3860981395), (71.6004012379, -19.5354036951)],
                knots=[0, 0, 0, 1, 1, 1], degree=2))
        make_face(mode=Mode.SUBTRACT)
        Polygon((88.3636390851, -48.9906988339), (87.6578849439, -46.9906988339), (79.8254957028, -46.9906988339), (80.4339515851, -48.9906988339), align=None)
        Polygon((-49.8286352204, -48.9906988339), (-57.7583227204, -48.9906988339), (-57.7583227204, -51.9906988339), (91.5157658212, -51.9906988339), (91.5157658212, -46.9906988339), (87.6578849439, -46.9906988339), (88.3636390851, -48.9906988339), (80.4339515851, -48.9906988339), (79.8254957028, -46.9906988339), (63.3601158008, -46.9906988339), (62.7516599185, -48.9906988339), (54.8219724185, -48.9906988339), (55.525111041, -46.9906988339), (50.4545679046, -46.9906988339), (50.4545679046, -48.9906988339), (41.1045245018, -48.9906988339), (39.9540615388, -46.9906988339), (26.2477536685, -46.9906988339), (26.2477536685, -48.9906988339), (19.6700626962, -48.9906988339), (19.6700626962, -46.9906988339), (10.9352536685, -46.9906988339), (10.9352536685, -48.9906988339), (1.5852102657, -48.9906988339), (0.4347473027, -46.9906988339), (-13.2715605676, -46.9906988339), (-13.2715605676, -48.9906988339), (-19.8492515399, -48.9906988339), (-19.8492515399, -46.9906988339), (-24.922410195, -46.9906988339), (-24.2166560538, -48.9906988339), (-32.1463435538, -48.9906988339), (-32.7547994361, -46.9906988339), (-49.2201793381, -46.9906988339), align=None)
        Polygon((62.7516599185, -48.9906988339), (63.3601158008, -46.9906988339), (55.525111041, -46.9906988339), (54.8219724185, -48.9906988339), align=None)
        Polygon((50.4545679046, -48.9906988339), (50.4545679046, -46.9906988339), (39.9540615388, -46.9906988339), (41.1045245018, -48.9906988339), align=None)
        with Locations((22.9589081824, -47.9906988339)):
            Rectangle(F2_W, F2_H)
        Polygon((10.9352536685, -46.9906988339), (0.4347473027, -46.9906988339), (1.5852102657, -48.9906988339), (10.9352536685, -48.9906988339), align=None)
        with Locations((-16.5604060538, -47.9906988339)):
            Rectangle(F2_W, F2_H)
        Polygon((-24.922410195, -46.9906988339), (-32.7547994361, -46.9906988339), (-32.1463435538, -48.9906988339), (-24.2166560538, -48.9906988339), align=None)
        Polygon((-49.2201793381, -46.9906988339), (-57.0551840979, -46.9906988339), (-57.7583227204, -48.9906988339), (-49.8286352204, -48.9906988339), align=None)
        Polygon((-57.0551840979, -46.9906988339), (-57.7583227204, -46.9906988339), (-57.7583227204, -48.9906988339), align=None)
    extrude(amount=F3_DEPTH)


solid = Compound([f1.part, f3.part])
